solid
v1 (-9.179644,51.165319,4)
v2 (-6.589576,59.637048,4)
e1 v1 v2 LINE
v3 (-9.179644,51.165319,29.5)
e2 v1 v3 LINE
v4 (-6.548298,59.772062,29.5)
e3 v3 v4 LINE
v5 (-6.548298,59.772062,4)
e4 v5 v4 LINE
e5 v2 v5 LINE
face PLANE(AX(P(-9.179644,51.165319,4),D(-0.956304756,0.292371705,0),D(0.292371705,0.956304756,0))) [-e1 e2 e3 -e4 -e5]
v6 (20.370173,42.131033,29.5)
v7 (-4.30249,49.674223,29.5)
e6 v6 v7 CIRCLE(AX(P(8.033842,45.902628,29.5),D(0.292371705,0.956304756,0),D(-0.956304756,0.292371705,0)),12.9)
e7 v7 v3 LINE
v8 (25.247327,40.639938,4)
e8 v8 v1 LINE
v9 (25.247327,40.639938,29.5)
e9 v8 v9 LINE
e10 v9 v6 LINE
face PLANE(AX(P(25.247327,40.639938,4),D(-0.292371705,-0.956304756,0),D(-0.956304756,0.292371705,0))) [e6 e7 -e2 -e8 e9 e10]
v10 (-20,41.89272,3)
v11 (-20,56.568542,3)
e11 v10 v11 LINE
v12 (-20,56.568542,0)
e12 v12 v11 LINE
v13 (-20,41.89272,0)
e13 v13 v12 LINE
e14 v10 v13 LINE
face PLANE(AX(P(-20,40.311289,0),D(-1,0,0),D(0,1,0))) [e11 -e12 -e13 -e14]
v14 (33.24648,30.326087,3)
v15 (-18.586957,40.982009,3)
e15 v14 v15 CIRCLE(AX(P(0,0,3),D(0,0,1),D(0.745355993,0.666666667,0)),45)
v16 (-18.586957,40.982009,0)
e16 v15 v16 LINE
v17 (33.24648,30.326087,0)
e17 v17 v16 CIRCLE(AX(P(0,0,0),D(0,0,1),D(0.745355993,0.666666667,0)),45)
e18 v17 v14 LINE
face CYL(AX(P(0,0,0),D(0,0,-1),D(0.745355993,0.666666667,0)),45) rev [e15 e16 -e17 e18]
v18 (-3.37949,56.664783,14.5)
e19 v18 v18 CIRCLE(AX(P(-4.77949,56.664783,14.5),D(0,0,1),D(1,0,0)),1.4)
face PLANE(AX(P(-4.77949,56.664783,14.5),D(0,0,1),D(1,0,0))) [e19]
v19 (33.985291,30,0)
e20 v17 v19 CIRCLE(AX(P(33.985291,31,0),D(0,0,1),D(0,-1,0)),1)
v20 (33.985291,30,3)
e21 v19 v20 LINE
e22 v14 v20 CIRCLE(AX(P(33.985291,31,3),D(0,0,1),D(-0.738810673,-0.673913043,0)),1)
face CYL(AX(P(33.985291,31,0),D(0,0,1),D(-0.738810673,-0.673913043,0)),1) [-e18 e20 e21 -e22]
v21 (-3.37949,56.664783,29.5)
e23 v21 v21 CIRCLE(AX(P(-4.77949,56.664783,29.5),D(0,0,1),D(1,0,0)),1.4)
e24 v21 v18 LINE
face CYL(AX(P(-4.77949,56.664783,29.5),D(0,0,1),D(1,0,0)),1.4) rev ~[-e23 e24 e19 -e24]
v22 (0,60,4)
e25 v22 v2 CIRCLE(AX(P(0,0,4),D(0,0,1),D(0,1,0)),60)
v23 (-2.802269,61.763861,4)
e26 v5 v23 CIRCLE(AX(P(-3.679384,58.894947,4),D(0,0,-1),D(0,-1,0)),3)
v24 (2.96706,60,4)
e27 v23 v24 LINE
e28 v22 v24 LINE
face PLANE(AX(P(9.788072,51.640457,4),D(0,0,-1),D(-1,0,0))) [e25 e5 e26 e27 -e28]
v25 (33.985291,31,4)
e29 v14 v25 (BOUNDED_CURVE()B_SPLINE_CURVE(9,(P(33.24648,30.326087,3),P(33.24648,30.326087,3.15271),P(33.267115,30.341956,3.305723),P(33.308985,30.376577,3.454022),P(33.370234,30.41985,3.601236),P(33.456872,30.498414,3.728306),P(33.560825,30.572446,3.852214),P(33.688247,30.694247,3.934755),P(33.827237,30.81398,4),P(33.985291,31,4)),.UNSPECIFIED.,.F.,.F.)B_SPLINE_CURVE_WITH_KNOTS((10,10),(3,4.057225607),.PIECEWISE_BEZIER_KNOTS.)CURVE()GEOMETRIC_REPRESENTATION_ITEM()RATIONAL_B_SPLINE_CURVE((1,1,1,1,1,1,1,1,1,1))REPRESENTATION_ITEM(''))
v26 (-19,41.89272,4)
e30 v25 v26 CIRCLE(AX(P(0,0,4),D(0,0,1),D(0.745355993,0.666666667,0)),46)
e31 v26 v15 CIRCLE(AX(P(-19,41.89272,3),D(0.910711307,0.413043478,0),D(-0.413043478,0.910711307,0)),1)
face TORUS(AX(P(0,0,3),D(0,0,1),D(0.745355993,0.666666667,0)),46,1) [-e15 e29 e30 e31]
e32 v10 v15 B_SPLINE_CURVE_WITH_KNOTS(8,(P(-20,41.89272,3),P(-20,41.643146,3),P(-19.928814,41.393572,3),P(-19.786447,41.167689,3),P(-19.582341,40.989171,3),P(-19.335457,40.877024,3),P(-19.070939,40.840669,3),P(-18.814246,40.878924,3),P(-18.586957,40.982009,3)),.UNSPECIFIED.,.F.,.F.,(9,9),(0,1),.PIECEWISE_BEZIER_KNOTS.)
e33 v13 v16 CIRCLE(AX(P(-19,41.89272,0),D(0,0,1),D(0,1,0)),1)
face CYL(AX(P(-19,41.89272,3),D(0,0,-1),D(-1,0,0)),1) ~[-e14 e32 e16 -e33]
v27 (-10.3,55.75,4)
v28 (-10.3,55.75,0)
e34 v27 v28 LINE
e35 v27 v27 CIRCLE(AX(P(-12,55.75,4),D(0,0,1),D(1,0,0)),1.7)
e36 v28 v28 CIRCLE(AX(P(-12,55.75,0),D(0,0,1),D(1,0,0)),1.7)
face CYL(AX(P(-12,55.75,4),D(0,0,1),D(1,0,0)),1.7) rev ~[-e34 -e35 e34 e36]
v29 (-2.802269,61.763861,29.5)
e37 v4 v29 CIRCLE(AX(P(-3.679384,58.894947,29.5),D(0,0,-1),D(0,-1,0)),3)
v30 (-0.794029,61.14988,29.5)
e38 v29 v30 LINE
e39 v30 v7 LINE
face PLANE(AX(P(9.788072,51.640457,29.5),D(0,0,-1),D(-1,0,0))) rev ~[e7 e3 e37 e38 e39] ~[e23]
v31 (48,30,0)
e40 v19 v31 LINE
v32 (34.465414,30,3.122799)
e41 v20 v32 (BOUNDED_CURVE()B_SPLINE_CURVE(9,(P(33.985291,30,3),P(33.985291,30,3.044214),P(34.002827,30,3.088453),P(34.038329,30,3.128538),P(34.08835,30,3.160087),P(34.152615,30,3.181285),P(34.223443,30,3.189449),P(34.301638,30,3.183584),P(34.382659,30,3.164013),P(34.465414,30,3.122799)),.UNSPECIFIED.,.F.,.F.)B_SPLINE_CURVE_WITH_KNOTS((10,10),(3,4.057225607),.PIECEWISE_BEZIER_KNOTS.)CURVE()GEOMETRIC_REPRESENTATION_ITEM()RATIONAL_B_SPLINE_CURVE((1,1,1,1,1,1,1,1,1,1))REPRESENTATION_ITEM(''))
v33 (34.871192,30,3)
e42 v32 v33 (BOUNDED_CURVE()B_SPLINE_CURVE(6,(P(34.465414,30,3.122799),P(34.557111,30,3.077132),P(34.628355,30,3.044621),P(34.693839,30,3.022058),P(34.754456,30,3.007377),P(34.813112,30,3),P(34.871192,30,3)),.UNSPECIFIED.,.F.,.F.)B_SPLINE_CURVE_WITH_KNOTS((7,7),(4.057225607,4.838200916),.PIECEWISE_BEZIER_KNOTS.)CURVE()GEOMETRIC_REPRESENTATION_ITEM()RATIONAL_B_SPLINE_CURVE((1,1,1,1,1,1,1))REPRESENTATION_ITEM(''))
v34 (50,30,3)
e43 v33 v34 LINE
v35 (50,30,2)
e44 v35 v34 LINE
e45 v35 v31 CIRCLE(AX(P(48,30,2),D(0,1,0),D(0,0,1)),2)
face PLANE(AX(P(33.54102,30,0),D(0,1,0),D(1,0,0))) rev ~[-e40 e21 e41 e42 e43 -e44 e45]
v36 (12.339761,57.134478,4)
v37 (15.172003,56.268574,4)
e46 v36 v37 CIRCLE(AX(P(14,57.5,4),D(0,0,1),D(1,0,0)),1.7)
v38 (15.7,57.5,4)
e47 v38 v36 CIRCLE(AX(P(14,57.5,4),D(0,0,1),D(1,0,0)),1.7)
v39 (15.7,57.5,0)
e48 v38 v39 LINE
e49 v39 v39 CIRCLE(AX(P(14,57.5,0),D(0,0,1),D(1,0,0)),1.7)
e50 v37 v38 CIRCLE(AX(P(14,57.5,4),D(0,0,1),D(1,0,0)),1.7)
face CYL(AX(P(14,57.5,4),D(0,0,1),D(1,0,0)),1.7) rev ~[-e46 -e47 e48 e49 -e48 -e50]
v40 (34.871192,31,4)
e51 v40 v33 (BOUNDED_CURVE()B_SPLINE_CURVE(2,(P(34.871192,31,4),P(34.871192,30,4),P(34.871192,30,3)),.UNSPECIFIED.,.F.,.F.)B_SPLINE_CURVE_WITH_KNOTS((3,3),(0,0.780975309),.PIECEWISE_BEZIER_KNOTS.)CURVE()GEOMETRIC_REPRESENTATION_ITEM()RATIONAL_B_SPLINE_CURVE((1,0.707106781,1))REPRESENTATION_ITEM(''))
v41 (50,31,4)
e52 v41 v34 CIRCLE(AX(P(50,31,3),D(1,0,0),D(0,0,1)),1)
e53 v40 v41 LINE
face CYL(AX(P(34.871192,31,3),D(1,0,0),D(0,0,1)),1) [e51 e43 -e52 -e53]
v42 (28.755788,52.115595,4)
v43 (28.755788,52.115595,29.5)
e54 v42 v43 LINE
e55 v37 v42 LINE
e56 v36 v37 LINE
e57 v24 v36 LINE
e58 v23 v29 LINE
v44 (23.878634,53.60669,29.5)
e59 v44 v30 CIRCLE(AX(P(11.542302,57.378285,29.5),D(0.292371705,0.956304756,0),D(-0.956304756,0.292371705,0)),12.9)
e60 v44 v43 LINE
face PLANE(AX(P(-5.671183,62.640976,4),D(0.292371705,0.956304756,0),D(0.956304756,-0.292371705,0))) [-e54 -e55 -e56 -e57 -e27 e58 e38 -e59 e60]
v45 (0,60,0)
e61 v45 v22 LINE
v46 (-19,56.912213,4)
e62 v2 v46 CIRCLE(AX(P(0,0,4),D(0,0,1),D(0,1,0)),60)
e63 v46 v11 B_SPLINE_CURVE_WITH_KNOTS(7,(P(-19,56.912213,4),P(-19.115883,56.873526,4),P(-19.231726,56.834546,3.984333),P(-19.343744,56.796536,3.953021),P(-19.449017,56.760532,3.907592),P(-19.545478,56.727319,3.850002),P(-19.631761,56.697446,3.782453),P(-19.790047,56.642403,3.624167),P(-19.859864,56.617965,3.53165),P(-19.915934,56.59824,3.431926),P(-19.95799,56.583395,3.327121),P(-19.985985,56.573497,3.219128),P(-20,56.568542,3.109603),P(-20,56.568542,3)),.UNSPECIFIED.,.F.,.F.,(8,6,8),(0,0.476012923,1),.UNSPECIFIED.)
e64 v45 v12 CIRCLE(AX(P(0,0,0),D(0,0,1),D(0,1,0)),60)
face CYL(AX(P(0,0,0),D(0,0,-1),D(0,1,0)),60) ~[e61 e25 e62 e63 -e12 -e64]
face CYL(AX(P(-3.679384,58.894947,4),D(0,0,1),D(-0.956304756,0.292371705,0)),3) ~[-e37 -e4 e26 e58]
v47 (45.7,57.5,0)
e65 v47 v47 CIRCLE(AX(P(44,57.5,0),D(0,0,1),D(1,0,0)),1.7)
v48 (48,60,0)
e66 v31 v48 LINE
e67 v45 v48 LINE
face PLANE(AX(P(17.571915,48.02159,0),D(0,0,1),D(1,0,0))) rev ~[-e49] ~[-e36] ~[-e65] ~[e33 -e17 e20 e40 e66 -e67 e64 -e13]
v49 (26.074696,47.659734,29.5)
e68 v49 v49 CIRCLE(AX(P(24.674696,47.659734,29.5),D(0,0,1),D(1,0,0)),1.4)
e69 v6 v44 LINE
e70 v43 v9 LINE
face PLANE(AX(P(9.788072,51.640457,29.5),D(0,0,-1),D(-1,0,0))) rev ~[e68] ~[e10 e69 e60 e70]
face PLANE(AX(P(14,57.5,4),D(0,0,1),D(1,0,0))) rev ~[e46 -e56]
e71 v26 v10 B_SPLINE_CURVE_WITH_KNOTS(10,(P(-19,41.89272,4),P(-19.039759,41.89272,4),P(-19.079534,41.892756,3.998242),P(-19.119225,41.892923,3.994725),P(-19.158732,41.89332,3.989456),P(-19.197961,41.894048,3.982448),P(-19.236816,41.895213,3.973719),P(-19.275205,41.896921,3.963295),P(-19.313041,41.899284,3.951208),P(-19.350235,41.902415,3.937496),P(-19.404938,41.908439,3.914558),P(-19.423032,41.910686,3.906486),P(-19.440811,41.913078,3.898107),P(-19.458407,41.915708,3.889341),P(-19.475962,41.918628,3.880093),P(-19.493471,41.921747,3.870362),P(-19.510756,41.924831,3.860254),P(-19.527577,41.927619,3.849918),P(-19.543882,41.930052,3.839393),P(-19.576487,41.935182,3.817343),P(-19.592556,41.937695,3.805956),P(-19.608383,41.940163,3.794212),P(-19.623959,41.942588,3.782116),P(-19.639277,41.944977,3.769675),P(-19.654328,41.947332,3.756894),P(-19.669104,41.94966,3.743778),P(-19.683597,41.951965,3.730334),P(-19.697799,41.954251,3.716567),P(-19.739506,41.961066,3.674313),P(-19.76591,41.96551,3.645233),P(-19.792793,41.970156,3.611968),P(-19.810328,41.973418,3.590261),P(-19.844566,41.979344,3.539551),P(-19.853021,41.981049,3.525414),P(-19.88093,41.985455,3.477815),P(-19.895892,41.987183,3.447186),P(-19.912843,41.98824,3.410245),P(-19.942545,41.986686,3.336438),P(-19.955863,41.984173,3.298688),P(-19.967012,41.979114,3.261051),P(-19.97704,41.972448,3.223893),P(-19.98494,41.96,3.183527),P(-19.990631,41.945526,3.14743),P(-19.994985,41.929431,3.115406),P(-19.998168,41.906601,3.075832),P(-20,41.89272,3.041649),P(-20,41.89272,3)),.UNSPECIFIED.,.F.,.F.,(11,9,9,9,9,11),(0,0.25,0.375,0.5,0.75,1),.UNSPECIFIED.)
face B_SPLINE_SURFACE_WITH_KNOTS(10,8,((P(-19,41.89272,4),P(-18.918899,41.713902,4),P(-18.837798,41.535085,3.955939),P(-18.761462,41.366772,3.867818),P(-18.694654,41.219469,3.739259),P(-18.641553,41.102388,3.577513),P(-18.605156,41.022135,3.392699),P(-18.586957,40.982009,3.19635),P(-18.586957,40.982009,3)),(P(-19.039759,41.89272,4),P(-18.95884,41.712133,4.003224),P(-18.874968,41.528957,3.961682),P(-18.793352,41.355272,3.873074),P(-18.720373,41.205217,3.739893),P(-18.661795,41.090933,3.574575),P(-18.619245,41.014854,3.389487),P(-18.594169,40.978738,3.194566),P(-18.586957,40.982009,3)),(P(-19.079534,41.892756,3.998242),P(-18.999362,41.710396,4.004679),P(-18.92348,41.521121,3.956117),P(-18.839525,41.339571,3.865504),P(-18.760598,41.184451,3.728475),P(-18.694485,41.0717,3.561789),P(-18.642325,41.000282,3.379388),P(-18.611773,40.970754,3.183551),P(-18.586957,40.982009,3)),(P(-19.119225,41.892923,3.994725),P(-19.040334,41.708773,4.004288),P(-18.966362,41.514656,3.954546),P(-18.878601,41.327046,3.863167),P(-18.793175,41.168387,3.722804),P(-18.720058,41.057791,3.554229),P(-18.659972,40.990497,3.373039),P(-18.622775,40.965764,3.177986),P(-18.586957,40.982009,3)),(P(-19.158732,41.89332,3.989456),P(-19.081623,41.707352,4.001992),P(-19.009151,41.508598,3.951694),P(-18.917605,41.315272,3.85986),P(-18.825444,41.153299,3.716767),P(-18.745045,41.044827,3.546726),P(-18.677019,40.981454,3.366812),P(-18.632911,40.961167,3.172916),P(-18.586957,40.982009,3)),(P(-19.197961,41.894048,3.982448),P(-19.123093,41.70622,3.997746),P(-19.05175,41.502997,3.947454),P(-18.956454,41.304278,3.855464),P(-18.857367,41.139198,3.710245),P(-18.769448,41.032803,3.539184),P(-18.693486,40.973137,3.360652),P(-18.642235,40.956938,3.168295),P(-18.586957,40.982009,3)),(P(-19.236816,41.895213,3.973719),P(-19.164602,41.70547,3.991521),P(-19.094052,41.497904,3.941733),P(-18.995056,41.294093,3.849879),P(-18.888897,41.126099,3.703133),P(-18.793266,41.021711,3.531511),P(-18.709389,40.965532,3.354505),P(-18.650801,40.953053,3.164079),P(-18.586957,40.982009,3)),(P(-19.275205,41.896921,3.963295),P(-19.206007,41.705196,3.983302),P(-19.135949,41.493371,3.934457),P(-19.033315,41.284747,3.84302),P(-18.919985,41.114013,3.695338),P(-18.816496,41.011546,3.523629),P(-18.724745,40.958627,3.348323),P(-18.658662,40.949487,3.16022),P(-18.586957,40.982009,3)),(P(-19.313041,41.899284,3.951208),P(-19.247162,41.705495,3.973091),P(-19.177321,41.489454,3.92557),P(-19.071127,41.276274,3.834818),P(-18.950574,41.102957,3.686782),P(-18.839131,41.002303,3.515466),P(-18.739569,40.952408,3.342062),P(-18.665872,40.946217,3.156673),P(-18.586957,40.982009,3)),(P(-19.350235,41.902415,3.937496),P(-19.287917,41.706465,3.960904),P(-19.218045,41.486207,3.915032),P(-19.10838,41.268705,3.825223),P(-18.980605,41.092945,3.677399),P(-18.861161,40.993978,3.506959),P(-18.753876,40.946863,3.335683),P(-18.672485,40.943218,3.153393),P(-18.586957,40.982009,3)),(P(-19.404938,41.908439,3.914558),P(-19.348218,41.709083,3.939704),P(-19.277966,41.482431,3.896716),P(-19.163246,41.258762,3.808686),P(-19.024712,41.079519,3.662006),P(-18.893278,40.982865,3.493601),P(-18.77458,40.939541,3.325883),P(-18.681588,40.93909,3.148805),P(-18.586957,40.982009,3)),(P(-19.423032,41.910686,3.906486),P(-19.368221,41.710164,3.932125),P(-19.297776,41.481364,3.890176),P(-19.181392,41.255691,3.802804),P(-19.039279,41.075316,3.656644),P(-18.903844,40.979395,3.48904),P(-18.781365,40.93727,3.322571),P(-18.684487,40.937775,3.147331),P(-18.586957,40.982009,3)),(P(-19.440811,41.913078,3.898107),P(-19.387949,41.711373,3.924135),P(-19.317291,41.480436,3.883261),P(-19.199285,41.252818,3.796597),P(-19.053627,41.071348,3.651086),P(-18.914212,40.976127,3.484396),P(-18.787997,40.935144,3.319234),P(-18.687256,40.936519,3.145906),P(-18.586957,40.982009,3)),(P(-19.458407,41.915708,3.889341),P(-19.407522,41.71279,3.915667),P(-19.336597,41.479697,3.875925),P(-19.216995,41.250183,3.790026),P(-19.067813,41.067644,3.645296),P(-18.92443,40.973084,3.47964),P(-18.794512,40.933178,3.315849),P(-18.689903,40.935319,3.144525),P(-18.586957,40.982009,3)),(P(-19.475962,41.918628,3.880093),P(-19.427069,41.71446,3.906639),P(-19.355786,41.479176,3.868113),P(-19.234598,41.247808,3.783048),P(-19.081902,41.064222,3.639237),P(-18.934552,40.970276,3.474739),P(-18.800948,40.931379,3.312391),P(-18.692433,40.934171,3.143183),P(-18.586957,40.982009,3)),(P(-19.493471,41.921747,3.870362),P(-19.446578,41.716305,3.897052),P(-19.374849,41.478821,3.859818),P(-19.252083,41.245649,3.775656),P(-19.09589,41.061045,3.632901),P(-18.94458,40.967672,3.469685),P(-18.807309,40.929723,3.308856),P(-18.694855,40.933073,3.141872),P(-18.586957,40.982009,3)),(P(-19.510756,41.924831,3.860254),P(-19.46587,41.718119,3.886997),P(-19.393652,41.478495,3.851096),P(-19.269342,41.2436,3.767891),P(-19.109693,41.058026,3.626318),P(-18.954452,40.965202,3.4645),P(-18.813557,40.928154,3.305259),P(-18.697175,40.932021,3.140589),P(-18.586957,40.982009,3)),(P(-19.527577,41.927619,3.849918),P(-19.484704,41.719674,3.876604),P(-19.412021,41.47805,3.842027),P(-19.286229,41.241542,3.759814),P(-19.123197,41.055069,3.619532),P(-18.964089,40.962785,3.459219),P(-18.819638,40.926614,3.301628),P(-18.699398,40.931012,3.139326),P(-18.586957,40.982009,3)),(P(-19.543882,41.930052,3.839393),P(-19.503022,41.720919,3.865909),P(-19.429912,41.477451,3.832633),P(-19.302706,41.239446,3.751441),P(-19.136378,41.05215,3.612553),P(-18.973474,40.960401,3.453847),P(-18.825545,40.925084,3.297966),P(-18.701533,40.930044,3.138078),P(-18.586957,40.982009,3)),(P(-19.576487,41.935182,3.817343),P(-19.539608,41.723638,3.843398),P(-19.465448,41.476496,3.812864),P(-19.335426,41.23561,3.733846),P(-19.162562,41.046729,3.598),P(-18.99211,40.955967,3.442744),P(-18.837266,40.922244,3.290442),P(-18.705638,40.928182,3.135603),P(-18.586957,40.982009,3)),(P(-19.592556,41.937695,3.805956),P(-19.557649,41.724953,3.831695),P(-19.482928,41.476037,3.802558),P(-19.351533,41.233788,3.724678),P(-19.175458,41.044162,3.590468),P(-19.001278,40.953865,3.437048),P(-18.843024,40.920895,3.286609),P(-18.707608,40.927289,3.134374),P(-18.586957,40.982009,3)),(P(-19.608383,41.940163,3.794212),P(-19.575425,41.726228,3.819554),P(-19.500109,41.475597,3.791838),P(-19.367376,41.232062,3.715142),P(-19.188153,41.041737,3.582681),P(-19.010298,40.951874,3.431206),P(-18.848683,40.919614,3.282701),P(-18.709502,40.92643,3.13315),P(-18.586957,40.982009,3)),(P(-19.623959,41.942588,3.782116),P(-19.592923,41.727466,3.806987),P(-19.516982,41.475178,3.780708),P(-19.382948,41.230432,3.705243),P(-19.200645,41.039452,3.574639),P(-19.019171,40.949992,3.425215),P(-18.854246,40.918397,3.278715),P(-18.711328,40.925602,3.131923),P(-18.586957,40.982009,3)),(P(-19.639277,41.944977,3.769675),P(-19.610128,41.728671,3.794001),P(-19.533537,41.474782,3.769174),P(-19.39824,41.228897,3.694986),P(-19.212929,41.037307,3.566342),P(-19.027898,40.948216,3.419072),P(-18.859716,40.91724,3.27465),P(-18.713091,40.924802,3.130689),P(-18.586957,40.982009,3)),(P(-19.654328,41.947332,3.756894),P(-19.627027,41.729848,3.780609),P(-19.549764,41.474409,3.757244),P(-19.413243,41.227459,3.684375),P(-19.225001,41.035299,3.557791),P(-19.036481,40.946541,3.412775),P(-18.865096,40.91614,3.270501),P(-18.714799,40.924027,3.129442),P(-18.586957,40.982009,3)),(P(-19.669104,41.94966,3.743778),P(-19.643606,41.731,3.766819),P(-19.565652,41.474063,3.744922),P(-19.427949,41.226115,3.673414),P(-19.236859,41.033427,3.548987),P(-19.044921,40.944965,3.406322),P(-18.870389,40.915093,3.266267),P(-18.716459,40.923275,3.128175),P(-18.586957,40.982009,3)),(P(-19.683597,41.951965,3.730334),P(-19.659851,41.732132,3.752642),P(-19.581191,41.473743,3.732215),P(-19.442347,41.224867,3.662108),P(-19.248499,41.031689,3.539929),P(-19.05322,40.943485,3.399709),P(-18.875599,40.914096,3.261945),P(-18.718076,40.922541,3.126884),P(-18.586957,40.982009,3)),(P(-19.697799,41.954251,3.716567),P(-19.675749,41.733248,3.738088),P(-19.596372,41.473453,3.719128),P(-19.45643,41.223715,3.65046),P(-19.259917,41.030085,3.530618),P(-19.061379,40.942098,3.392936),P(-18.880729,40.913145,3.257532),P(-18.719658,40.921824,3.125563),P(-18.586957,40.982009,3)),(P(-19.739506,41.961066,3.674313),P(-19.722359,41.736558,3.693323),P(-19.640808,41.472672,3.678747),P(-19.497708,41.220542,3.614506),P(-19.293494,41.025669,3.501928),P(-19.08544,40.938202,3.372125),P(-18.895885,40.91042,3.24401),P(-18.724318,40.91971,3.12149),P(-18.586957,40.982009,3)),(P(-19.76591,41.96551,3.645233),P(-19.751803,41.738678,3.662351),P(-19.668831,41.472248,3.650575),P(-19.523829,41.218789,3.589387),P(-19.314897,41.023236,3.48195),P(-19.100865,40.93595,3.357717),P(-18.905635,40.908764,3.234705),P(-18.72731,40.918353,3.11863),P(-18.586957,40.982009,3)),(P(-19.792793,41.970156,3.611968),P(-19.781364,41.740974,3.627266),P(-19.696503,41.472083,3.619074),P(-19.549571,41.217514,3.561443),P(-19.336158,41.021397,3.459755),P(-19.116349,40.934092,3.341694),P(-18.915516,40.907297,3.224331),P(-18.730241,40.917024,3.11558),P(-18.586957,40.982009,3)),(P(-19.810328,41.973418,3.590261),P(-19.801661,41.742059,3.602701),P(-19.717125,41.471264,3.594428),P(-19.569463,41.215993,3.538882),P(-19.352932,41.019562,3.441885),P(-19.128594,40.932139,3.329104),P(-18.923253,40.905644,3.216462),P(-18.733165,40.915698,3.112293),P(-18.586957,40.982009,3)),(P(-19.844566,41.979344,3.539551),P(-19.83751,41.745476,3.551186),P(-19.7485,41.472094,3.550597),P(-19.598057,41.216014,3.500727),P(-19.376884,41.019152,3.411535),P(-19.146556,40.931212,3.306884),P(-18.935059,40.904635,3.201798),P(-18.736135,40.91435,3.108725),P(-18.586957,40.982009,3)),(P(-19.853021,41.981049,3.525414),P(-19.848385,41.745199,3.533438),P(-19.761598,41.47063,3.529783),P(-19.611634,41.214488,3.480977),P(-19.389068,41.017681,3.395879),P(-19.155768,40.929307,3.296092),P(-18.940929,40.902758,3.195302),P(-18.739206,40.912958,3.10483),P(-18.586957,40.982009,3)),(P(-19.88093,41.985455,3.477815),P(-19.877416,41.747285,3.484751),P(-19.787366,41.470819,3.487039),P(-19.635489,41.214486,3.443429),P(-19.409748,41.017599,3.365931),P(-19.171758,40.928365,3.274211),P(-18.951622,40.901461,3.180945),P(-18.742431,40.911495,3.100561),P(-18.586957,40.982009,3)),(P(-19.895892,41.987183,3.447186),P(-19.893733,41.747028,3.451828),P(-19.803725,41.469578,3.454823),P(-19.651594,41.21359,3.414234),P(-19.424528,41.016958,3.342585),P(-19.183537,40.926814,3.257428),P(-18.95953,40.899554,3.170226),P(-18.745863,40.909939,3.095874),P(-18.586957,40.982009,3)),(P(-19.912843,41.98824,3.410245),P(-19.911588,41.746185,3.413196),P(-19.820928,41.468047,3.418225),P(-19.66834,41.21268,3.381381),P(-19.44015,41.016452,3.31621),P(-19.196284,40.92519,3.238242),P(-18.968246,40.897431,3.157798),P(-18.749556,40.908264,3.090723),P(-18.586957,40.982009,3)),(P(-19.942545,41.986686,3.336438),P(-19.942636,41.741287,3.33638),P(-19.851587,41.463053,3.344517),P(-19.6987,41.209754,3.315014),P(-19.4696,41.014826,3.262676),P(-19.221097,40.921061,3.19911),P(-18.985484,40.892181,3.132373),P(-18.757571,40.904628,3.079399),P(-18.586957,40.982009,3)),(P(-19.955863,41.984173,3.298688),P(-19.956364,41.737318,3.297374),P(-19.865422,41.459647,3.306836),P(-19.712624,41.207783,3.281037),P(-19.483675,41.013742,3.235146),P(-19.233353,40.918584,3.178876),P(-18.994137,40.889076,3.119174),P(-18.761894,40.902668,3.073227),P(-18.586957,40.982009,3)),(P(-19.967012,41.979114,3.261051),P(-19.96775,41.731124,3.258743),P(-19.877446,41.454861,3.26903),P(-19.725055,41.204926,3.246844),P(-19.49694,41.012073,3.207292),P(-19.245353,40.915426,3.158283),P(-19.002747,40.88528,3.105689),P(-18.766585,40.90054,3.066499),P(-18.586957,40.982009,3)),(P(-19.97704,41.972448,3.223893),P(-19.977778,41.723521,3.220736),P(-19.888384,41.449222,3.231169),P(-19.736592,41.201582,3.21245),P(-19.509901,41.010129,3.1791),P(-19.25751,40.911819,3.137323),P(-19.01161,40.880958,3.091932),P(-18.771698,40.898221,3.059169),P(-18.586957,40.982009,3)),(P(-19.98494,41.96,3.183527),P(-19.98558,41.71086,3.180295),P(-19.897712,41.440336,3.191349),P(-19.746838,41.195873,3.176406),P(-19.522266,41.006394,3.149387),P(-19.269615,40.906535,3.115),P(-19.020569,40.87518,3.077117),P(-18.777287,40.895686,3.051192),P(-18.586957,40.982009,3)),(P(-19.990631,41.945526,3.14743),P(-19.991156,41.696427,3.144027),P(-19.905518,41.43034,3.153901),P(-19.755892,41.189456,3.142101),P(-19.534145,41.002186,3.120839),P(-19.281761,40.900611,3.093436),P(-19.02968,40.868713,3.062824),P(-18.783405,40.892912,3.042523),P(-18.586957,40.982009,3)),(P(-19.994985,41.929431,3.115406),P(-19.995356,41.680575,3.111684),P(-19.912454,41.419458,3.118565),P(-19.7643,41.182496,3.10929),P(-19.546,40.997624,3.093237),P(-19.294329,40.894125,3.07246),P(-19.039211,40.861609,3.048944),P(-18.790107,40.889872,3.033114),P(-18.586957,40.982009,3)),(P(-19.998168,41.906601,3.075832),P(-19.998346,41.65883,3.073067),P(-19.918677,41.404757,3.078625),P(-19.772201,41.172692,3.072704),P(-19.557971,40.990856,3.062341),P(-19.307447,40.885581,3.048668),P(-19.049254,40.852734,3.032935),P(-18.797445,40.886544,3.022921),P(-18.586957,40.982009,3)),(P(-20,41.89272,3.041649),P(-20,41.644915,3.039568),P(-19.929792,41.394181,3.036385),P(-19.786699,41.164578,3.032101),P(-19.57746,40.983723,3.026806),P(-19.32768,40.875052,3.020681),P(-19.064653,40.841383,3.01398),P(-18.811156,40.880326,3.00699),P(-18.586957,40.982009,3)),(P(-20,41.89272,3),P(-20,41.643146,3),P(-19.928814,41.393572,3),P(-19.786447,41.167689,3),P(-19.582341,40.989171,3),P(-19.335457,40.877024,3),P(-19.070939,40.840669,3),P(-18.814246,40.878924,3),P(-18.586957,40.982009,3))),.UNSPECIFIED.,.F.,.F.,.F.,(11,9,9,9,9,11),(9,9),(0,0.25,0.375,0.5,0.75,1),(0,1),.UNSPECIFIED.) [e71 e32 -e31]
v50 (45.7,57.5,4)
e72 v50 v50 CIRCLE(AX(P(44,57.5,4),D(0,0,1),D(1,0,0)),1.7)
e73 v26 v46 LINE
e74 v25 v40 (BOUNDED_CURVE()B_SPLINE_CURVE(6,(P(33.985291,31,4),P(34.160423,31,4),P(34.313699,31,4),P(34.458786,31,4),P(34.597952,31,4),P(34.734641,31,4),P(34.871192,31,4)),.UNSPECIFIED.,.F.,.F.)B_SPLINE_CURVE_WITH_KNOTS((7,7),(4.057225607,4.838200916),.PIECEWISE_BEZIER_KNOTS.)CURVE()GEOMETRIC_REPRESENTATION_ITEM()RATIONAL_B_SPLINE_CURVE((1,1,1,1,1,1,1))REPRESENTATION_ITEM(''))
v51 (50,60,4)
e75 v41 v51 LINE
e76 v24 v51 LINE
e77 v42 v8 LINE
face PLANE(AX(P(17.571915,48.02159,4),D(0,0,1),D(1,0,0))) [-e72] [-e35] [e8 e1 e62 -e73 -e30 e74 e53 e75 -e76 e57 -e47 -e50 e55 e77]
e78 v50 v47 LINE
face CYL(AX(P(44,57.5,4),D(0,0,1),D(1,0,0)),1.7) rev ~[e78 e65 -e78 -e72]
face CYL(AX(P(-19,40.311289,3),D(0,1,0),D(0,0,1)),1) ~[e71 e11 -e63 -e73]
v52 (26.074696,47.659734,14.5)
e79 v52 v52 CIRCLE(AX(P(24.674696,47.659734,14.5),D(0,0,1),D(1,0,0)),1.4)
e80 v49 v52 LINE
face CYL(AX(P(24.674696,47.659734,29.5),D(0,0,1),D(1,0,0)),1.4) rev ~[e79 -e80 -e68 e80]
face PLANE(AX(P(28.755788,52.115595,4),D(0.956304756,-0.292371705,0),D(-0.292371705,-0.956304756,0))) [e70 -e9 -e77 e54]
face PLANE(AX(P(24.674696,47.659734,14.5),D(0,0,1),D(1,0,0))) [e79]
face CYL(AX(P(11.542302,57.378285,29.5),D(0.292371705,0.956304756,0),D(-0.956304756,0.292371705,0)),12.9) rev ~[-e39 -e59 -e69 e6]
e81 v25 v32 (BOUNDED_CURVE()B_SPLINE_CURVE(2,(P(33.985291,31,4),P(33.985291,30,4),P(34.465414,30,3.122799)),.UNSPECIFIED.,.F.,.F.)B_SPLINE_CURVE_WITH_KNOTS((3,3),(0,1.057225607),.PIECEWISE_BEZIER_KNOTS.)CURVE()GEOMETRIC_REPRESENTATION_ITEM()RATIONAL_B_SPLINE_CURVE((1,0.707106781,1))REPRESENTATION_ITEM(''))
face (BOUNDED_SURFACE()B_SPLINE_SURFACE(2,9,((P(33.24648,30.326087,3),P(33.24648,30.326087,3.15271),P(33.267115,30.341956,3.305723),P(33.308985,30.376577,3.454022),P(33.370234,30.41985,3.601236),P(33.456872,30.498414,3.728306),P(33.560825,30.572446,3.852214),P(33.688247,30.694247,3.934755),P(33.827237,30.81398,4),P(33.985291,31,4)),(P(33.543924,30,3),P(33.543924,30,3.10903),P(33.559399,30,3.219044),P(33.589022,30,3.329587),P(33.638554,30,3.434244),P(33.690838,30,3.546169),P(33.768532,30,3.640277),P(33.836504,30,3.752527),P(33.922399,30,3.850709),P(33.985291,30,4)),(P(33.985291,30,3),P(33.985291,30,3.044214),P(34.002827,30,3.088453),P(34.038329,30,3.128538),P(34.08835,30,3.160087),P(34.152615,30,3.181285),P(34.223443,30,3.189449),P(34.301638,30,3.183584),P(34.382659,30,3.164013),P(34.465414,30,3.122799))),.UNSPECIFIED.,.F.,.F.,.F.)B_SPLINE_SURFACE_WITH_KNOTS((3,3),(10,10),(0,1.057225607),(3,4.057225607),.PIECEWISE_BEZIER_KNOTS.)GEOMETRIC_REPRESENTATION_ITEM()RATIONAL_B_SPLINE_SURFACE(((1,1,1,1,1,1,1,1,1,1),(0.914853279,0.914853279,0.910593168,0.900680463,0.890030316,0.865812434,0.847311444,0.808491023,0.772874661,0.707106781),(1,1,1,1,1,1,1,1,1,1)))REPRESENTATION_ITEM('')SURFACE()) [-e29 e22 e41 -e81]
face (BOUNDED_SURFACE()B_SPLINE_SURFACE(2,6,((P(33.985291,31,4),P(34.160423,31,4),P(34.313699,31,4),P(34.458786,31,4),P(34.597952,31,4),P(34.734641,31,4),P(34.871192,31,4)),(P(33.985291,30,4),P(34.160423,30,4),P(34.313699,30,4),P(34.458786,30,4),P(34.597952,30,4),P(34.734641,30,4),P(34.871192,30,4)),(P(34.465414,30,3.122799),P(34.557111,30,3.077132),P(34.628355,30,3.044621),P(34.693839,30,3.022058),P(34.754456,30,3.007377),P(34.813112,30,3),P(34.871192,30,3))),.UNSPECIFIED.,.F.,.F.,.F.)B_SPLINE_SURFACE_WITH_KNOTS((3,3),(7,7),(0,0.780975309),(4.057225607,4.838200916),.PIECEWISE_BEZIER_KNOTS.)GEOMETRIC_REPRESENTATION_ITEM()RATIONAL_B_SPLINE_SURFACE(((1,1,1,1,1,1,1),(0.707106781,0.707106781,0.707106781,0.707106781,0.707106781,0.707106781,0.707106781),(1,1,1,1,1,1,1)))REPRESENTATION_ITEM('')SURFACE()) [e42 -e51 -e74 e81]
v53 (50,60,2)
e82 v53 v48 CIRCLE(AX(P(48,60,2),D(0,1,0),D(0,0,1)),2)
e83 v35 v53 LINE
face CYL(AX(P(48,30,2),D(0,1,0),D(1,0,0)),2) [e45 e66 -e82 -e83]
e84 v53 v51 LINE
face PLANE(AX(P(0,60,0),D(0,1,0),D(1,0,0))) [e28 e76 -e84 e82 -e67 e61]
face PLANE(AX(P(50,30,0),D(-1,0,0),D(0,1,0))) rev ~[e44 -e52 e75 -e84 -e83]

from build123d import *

# Parameters (mm, degrees)
PAD_DEPTH       = 4
PAD001_DEPTH    = 25.5
SKETCH002_R     = 12.9
POCKET_DEPTH    = 35.4050611872
FILLET_R        = 2
FILLET001_R     = 1
FILLET002_R     = 1
FILLET003_R     = 1
FILLET004_R     = 3
SKETCH003_R     = 1.4
POCKET001_DEPTH = 15
SKETCH004_R     = 1.7
POCKET002_DEPTH = 5


with BuildPart() as part:
    # Sketch → Pad (new body)
    with BuildSketch(Plane.XY):
        with BuildLine():
            Line((33.5410196625, 30), (50, 30))
            Line((50, 30), (50, 60))
            Line((0, 60), (50, 60))
            ThreePointArc((0, 60), (-10.1461187235, 59.1359135792), (-20, 56.5685424949))
            Line((-20, 40.3112887415), (-20, 56.5685424949))
            ThreePointArc((33.5410196625, 30), (8.5100218715, 44.1880020792), (-20, 40.3112887415))
        make_face()
    extrude(amount=PAD_DEPTH)

    # Sketch001 → Pad001 (new body)
    with BuildSketch(Plane.XY.offset(4)):
        Polygon((-5.671183324, 62.6409760428), (28.7557878907, 52.1155946728), (25.247327434, 40.6399376012), (-9.1796437807, 51.1653189712), align=None)
    extrude(amount=PAD001_DEPTH)

    # Sketch002 → Pocket (cut, through all)
    with BuildSketch(Plane(origin=(17.029415001, 55.7007066474, 0), x_dir=(-0.956304756, 0.2923717047, 0), z_dir=(0.2923717047, 0.956304756, 0))):
        with Locations((5.7378285358, 29.5)):
            Circle(SKETCH002_R)
    extrude(amount=-POCKET_DEPTH, mode=Mode.SUBTRACT)

    # Fillet
    fillet_edges = [part.edges().sort_by_distance(p)[0] for p in [
        (50, 45, 0),
    ]]
    fillet(fillet_edges, radius=FILLET_R)

    # Fillet001
    fillet001_edges = [part.edges().sort_by_distance(p)[0] for p in [
        (-20, 48.439916, 4),
    ]]
    fillet(fillet001_edges, radius=FILLET001_R)

    # Fillet002
    fillet002_edges = [part.edges().sort_by_distance(p)[0] for p in [
        (9.054169, 44.079724, 4),
    ]]
    fillet(fillet002_edges, radius=FILLET002_R)

    # Fillet003
    fillet003_edges = [part.edges().sort_by_distance(p)[0] for p in [
        (42.435596, 30, 4),
    ]]
    fillet(fillet003_edges, radius=FILLET003_R)

    # Fillet004
    fillet004_edges = [part.edges().sort_by_distance(p)[0] for p in [
        (-5.671183, 62.640976, 16.75),
    ]]
    fillet(fillet004_edges, radius=FILLET004_R)

    # Sketch003 → Pocket001 (cut)
    with BuildSketch(Plane.XY.offset(29.5)):
        with Locations((-4.7794903371, 56.6647829722)):
            Circle(SKETCH003_R)
        with Locations((24.6746961465, 47.6597344667)):
            Circle(SKETCH003_R)
    extrude(amount=-POCKET001_DEPTH, mode=Mode.SUBTRACT)

    # Sketch004 → Pocket002 (cut)
    with BuildSketch(Plane.XY.offset(4)):
        with Locations((44, 57.5)):
            Circle(SKETCH004_R)
        with Locations((-12, 55.75)):
            Circle(SKETCH004_R)
        with Locations((14, 57.5)):
            Circle(SKETCH004_R)
    extrude(amount=-POCKET002_DEPTH, mode=Mode.SUBTRACT)


solid = part.part
